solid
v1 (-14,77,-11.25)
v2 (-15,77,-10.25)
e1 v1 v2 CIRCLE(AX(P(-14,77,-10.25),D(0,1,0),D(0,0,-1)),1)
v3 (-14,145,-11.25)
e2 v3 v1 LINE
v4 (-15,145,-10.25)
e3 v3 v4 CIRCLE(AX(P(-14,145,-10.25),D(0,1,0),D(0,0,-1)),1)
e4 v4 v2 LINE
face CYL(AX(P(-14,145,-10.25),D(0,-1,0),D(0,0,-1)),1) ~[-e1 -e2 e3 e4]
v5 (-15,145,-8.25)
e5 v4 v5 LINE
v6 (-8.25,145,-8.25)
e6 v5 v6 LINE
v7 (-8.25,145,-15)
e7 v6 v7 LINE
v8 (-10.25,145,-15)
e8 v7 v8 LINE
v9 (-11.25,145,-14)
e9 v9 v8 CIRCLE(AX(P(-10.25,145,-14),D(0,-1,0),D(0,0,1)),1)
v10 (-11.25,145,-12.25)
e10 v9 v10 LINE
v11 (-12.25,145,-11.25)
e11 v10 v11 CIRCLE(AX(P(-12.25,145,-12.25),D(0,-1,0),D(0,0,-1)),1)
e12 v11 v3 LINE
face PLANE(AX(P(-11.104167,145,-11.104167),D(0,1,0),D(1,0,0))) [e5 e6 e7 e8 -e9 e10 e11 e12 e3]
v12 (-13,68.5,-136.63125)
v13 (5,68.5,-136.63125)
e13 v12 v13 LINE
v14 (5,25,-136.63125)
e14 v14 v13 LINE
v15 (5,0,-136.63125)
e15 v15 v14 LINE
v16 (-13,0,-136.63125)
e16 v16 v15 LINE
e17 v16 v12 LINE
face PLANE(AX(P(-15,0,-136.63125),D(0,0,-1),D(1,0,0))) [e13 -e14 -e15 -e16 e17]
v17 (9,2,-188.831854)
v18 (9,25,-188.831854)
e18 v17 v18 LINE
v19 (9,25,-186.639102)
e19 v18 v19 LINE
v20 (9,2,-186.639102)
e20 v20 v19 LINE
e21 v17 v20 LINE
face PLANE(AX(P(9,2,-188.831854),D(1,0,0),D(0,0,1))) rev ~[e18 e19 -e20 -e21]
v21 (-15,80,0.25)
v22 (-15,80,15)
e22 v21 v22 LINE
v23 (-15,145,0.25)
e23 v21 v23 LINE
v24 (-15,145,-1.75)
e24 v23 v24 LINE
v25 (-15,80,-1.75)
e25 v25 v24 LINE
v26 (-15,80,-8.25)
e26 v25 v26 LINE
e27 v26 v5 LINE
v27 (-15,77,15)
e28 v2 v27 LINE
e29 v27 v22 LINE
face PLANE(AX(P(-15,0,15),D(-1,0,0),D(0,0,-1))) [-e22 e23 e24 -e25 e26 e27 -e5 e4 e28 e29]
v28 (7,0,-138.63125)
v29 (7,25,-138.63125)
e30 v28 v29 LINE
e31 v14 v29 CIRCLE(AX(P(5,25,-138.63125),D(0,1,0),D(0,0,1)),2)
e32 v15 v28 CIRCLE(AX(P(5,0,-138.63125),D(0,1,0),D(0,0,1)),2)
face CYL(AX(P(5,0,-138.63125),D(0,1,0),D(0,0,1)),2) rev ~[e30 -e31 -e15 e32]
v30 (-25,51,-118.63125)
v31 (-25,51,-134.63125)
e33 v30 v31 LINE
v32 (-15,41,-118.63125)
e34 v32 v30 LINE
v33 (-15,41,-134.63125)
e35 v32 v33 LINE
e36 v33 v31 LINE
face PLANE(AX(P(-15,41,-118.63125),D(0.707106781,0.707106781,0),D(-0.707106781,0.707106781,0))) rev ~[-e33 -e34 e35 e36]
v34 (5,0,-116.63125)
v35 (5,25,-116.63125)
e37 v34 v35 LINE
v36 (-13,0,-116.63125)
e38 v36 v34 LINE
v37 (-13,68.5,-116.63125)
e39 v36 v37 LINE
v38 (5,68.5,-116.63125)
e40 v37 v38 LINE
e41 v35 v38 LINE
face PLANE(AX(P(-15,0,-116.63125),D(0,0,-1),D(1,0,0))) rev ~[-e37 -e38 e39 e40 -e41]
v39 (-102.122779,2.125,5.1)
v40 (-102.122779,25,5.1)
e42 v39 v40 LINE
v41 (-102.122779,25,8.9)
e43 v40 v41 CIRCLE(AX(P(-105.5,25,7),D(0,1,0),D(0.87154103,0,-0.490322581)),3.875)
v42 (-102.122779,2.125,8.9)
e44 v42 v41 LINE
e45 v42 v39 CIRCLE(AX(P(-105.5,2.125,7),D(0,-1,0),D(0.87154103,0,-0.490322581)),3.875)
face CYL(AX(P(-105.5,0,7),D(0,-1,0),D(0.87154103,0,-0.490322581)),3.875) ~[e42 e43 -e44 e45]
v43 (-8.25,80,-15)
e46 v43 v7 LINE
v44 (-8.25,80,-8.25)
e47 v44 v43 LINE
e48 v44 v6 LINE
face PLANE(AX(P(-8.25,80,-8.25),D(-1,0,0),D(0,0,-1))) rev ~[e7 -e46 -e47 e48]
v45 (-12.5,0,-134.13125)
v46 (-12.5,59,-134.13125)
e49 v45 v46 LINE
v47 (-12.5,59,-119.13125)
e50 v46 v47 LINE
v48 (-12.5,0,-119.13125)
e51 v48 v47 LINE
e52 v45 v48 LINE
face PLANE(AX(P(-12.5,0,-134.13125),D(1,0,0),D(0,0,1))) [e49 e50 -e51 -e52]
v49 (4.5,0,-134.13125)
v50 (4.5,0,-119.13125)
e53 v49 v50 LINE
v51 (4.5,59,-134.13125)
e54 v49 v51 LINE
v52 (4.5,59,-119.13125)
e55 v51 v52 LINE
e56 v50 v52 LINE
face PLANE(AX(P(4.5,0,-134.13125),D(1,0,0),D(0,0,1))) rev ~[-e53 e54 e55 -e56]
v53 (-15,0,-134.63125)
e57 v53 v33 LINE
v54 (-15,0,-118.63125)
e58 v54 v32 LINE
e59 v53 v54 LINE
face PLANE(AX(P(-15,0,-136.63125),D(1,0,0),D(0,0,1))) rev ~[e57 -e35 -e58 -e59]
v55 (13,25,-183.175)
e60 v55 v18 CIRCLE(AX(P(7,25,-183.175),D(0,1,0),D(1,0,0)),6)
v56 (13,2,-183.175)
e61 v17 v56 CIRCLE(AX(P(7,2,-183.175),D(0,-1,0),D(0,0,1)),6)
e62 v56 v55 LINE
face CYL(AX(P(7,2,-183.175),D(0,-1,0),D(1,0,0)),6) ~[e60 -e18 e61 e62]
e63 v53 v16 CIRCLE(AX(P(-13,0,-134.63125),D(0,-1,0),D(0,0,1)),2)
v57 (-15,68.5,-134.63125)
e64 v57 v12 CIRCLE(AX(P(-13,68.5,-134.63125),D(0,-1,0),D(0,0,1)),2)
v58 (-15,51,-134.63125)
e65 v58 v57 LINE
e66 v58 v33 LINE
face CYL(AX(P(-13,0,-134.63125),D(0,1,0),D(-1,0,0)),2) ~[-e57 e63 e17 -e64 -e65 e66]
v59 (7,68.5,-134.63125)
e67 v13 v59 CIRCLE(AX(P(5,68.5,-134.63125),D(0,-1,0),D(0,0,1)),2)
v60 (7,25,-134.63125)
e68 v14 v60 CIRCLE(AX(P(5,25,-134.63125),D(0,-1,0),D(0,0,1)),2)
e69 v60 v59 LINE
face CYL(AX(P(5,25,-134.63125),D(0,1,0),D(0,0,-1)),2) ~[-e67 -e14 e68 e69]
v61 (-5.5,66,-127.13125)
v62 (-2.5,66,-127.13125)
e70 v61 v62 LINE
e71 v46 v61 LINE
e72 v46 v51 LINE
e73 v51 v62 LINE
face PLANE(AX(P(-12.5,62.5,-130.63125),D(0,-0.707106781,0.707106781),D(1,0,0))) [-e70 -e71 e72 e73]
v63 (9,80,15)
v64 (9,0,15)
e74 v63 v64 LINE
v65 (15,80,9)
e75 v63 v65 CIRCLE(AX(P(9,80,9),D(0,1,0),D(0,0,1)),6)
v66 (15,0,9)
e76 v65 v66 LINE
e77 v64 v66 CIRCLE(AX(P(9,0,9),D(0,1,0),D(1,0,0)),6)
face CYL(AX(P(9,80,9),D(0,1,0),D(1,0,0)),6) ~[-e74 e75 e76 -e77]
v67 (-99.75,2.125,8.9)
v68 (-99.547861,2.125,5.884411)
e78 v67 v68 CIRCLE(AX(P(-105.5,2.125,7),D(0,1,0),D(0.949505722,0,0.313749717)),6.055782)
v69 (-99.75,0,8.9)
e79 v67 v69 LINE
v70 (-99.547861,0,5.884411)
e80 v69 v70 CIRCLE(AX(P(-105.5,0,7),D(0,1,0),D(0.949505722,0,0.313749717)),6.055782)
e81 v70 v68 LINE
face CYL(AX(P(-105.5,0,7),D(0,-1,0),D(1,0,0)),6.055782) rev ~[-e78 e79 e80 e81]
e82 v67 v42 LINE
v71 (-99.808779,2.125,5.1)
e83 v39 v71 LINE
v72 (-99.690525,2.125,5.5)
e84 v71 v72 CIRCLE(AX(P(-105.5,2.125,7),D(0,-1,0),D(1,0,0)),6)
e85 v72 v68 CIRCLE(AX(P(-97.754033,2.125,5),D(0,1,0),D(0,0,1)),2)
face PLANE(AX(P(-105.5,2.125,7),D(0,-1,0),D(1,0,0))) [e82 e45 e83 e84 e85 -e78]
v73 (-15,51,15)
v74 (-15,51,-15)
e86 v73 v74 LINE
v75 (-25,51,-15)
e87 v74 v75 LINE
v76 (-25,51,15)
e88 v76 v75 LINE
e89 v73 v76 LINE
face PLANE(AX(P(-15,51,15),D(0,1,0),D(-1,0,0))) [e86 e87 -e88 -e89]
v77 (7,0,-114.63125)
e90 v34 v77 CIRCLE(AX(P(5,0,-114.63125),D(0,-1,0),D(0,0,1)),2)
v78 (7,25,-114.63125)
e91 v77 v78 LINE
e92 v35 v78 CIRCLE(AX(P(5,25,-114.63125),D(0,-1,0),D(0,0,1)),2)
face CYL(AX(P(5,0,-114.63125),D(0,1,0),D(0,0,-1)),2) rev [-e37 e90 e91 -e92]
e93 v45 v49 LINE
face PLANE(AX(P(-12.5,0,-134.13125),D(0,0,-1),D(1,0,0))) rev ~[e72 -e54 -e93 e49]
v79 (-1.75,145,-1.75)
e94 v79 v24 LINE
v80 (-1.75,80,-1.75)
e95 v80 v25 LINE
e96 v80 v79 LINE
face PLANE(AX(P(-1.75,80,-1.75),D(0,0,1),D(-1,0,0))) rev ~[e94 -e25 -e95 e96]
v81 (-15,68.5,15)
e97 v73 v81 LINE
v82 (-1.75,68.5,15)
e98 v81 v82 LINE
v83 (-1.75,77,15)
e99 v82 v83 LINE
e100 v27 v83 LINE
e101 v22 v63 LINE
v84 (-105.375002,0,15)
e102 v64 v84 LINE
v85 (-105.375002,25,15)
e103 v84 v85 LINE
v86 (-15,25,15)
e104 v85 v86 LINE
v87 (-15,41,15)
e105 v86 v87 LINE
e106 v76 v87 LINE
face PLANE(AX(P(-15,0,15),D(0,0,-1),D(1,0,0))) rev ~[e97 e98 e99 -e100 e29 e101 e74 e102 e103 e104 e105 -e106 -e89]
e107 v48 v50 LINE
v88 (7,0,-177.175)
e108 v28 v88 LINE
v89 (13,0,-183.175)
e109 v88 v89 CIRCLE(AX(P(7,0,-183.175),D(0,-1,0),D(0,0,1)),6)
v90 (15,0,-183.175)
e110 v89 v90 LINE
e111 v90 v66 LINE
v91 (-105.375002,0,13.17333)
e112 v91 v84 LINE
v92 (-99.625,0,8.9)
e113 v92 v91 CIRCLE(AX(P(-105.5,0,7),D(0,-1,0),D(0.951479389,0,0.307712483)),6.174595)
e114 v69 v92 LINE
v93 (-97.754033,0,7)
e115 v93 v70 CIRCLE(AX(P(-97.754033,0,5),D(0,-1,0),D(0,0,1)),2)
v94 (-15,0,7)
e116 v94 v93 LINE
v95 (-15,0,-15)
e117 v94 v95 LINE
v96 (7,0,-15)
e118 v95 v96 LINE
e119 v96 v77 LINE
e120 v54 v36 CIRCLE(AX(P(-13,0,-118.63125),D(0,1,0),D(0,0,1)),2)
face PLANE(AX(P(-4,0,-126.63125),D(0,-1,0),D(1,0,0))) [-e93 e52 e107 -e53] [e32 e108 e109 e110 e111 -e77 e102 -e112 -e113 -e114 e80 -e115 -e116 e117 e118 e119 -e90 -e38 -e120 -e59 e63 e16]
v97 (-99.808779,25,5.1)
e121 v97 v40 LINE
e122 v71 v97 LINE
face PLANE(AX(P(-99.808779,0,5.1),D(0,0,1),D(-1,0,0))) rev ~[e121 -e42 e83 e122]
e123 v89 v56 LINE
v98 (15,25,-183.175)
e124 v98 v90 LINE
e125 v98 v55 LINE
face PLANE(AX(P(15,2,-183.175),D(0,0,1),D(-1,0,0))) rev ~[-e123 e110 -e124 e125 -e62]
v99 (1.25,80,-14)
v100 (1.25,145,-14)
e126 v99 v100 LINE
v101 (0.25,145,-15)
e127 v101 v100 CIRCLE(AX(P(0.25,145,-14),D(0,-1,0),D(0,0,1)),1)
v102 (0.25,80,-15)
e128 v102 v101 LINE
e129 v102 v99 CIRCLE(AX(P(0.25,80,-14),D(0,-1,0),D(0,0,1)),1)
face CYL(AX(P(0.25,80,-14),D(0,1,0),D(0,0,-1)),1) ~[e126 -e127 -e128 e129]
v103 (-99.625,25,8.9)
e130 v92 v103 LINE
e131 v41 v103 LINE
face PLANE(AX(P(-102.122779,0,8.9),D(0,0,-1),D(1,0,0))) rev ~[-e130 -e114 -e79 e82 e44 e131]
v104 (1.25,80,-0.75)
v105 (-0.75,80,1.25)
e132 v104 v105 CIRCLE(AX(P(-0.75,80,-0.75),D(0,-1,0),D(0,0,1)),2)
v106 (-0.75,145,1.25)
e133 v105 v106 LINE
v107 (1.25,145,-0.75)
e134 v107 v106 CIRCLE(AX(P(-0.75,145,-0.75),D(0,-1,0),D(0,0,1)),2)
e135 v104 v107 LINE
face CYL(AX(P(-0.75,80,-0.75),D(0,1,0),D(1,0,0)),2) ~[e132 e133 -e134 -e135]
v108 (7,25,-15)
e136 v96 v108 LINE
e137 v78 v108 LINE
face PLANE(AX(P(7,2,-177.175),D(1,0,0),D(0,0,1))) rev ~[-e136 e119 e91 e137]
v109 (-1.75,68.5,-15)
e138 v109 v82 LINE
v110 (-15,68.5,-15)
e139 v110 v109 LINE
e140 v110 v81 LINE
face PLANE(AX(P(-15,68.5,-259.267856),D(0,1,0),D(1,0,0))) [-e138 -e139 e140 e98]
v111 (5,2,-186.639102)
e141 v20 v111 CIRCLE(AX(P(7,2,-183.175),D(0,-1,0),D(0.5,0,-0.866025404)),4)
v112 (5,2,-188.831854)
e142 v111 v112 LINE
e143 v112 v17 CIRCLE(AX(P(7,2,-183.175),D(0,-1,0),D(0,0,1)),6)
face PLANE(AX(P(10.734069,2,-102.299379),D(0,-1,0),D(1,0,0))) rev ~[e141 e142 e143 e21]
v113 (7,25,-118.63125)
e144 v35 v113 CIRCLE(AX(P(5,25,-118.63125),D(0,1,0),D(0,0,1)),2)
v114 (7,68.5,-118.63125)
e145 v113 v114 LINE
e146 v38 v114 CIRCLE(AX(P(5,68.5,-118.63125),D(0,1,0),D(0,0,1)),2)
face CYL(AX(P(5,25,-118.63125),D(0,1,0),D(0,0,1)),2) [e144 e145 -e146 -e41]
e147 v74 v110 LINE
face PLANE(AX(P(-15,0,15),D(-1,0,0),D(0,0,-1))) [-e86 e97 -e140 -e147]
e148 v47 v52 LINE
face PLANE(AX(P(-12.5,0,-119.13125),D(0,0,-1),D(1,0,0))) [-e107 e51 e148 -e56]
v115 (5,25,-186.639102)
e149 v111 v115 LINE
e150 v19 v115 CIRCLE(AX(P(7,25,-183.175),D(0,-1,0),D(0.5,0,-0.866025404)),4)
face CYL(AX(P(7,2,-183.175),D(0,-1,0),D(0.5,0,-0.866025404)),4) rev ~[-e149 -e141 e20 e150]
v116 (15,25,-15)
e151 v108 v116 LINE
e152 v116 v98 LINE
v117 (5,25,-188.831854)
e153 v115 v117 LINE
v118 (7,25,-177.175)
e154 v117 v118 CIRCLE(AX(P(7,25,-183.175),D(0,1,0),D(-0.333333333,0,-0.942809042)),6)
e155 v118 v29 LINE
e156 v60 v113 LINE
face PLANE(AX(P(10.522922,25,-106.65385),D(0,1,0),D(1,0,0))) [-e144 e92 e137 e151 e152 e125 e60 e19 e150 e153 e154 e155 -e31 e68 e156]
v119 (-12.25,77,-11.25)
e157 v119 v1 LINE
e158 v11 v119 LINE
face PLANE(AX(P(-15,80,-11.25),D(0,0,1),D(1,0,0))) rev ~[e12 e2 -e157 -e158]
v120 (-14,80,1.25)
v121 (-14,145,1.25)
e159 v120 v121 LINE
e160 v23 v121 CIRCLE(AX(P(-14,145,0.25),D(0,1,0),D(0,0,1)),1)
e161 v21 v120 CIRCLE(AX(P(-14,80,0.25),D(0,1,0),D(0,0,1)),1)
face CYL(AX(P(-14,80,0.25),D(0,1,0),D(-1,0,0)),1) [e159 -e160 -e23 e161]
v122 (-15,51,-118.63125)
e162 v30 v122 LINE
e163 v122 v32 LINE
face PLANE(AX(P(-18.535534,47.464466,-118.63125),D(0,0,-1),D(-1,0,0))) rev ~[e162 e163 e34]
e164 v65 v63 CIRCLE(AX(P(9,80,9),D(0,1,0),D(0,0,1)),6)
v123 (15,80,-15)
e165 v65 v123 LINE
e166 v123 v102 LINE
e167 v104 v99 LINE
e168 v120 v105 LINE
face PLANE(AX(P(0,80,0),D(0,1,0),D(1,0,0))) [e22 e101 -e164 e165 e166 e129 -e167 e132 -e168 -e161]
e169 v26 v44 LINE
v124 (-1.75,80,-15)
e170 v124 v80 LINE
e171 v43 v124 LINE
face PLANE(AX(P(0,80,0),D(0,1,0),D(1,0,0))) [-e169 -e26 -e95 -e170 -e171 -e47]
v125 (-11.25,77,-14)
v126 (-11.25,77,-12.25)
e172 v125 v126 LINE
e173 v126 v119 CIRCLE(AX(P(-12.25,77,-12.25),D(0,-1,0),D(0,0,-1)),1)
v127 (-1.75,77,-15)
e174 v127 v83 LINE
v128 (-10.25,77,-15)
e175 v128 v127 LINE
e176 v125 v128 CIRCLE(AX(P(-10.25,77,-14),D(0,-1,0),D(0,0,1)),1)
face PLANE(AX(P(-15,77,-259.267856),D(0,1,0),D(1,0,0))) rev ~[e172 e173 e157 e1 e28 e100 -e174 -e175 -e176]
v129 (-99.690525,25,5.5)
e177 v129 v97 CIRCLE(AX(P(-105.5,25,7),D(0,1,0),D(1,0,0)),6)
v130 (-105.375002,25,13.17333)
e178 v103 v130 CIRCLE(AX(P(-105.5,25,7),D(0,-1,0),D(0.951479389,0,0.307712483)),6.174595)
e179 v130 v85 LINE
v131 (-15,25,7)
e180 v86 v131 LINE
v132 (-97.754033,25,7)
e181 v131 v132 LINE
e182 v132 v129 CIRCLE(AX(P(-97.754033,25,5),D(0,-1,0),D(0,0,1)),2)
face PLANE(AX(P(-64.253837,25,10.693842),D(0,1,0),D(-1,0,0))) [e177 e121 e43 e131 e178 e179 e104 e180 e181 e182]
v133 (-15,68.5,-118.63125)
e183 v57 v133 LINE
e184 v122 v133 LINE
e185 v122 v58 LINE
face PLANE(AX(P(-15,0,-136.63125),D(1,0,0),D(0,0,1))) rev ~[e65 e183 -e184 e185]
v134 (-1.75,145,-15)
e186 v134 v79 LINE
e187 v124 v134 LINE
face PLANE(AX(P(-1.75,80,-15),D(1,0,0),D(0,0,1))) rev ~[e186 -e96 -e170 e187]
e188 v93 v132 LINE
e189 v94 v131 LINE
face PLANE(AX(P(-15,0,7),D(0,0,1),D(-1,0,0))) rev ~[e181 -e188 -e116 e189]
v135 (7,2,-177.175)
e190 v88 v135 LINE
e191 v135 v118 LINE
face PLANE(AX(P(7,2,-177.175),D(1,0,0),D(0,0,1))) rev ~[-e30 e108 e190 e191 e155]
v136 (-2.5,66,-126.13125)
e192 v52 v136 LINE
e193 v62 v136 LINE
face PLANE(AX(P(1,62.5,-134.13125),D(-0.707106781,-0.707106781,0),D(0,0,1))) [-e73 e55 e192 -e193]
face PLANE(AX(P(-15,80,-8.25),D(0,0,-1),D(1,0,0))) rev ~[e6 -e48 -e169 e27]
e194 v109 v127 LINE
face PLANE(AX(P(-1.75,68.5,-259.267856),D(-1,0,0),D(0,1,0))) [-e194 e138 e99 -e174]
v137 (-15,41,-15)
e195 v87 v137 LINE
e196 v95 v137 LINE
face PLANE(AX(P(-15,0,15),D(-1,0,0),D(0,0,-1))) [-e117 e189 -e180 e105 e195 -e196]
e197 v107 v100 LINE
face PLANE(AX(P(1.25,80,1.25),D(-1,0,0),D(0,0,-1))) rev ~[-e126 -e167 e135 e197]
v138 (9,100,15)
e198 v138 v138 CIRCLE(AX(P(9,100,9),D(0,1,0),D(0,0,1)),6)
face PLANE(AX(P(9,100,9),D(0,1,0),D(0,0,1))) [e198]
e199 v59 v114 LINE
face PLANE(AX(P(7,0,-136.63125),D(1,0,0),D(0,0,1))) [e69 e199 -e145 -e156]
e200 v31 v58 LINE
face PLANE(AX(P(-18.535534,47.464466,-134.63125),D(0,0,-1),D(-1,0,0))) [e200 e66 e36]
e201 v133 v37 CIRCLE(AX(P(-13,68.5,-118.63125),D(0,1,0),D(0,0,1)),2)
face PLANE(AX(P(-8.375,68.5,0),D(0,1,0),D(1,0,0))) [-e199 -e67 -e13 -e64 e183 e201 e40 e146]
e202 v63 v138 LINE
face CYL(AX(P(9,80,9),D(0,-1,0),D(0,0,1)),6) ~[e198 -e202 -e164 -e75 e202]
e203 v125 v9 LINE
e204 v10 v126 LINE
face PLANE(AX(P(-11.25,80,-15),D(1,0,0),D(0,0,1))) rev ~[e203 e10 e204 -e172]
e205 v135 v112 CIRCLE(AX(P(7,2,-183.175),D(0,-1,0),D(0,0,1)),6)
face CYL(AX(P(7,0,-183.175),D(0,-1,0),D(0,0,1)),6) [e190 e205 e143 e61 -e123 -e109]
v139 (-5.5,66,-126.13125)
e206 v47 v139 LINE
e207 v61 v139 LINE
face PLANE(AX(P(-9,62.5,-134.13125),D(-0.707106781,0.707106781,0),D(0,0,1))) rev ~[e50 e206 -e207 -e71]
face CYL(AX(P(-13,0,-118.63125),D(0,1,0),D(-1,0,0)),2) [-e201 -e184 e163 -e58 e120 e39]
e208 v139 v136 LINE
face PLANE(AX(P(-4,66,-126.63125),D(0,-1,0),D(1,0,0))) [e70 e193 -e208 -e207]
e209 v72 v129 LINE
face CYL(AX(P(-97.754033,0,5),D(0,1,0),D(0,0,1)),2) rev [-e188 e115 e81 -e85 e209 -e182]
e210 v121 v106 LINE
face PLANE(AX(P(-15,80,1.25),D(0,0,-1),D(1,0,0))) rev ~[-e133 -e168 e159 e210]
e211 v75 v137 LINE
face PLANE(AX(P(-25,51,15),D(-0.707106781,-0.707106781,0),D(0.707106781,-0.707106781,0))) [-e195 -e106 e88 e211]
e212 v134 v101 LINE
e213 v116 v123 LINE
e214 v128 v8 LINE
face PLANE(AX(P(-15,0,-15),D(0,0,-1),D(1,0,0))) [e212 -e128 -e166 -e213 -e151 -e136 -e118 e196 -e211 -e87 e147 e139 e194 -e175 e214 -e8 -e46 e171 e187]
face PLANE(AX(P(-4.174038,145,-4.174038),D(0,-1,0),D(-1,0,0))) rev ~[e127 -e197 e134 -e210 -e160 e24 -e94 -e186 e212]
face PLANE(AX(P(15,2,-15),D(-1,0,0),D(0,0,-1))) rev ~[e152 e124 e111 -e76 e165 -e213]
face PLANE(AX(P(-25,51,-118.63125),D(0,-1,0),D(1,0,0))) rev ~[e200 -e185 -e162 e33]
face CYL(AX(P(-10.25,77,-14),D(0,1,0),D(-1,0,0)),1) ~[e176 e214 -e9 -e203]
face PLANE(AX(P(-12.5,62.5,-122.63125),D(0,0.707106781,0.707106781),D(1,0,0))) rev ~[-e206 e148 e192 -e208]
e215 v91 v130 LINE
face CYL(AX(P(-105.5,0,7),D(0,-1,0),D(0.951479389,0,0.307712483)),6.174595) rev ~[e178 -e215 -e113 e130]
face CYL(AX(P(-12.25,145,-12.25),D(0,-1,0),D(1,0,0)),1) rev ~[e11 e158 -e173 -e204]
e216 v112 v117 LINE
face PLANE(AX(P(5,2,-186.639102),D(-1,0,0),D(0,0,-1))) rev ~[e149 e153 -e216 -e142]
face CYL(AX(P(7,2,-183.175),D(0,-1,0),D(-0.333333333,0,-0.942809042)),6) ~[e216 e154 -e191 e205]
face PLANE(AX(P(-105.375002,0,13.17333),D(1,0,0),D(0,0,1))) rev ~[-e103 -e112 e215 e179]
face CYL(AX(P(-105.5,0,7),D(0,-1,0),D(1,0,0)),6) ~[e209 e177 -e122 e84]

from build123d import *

# Parameters (mm, degrees)
SKETCH1_W                 = 30
SKETCH1_H                 = 30
BOSS_EXTRUDE1_DEPTH       = 80
SKETCH2_R                 = 6
BOSS_EXTRUDE2_DEPTH       = 20
CUT_EXTRUDE1_DEPTH        = 83.764726786
BOSS_EXTRUDE3_DEPTH       = 65
BOSS_EXTRUDE5_DEPTH       = 2
BOSS_EXTRUDE6_DEPTH       = 23
BOSS_EXTRUDE7_DEPTH       = 25
FILLET1_R                 = 2
SKETCH11_R                = 6.055782361
CUT_EXTRUDE2_DEPTH        = 2.125
CUT_EXTRUDE4_DEPTH        = 274.267856233
CUT_EXTRUDE4_DEPTH_BACK   = 274.267856233
SKETCH13_W                = 13.25
SKETCH13_H                = 8.5
FILLET2_R                 = 2
CUT_EXTRUDE6_REACH        = 234.702
SKETCH16_W                = 3.75
SKETCH16_H                = 3.75
FILLET4_R                 = 1
BOSS_EXTRUDE8_REACH       = 264.25
SKETCH17_W                = 22
SKETCH17_H                = 20
SKETCH18_W                = 17
SKETCH18_H                = 15
CUT_EXTRUDE7_DEPTH        = 66
FILLET5_R                 = 2
FILLET6_R                 = 2
CHAMFER1_SIZE             = 7
BOSS_EXTRUDE9_DEPTH       = 30
BOSS_EXTRUDE10_DEPTH      = 8
BOSS_EXTRUDE10_DEPTH_BACK = 8


with BuildPart() as part:
    # Sketch1 → Boss-Extrude1 (new body)
    with BuildSketch(Plane(origin=(0, 0, 0), x_dir=(1, 0, 0), z_dir=(0, 1, 0))):
        Rectangle(SKETCH1_W, SKETCH1_H)
    extrude(amount=BOSS_EXTRUDE1_DEPTH)

    # Sketch2 → Boss-Extrude2 (add)
    with BuildSketch(Plane(origin=(0, 80, 0), x_dir=(1, 0, 0), z_dir=(0, 1, 0))):
        with Locations(Location((9, -9, 0), (0, 0, 270))):
            Circle(SKETCH2_R)
    extrude(amount=BOSS_EXTRUDE2_DEPTH)

    # Sketch3 → Cut-Extrude1 (cut, through all)
    with BuildSketch(Plane(origin=(0, 80, 0), x_dir=(1, 0, 0), z_dir=(0, 1, 0))):
        with BuildLine():
            Line((9, -15), (15, -15))
            Line((15, -15), (15, -9))
            ThreePointArc((15, -9), (13.242640687, -13.242640687), (9, -15))
        make_face()
    extrude(amount=-CUT_EXTRUDE1_DEPTH, mode=Mode.SUBTRACT)

    # Sketch4 → Boss-Extrude3 (add)
    with BuildSketch(Plane(origin=(0, 80, 0), x_dir=(1, 0, 0), z_dir=(0, 1, 0))):
        Polygon((-11.25, 1.75), (-1.75, 1.75), (-1.75, 11.25), (-1.75, 15), (1.25, 15), (1.25, 11.25), (1.25, -1.25), (-11.25, -1.25), (-15, -1.25), (-15, 1.75), align=None)
        Polygon((-11.25, 8.25), (-8.25, 8.25), (-8.25, 11.25), (-8.25, 15), (-11.25, 15), (-11.25, 11.25), (-15, 11.25), (-15, 8.25), align=None)
    extrude(amount=BOSS_EXTRUDE3_DEPTH)

    # Sketch6 → Boss-Extrude5 (add)
    with BuildSketch(Plane.XZ):
        with BuildLine():
            Line((15, -15), (7, -15))
            Line((7, -15), (7, -177.175))
            ThreePointArc((7, -177.175), (2.757359313, -187.417640687), (13, -183.175))
            Line((13, -183.175), (15, -183.175))
            Line((15, -183.175), (15, -15))
        make_face()
    extrude(amount=-BOSS_EXTRUDE5_DEPTH)

    # Sketch7 → Boss-Extrude6 (add)
    with BuildSketch(Plane(origin=(0, 2, 0), x_dir=(1, 0, 0), z_dir=(0, 1, 0))):
        with BuildLine():
            Line((9, 188.831854249), (9, 186.639101615))
            ThreePointArc((9, 186.639101615), (7, 179.175), (5, 186.639101615))
            Line((5, 186.639101615), (5, 188.831854249))
            ThreePointArc((5, 188.831854249), (1.086408642, 182.160388128), (7, 177.175))
            Line((7, 177.175), (7, 15))
            Line((7, 15), (15, 15))
            Line((15, 15), (15, 183.175))
            Line((15, 183.175), (13, 183.175))
            ThreePointArc((13, 183.175), (11.898979486, 186.639101615), (9, 188.831854249))
        make_face()
    extrude(amount=BOSS_EXTRUDE6_DEPTH)

    # Sketch9 → Boss-Extrude7 (add)
    with BuildSketch(Plane.XZ):
        with BuildLine():
            Line((-15, 15), (-15, 7))
            Line((-15, 7), (-99.5, 7))
            ThreePointArc((-99.5, 7), (-99.577697751, 6.037536458), (-99.80877869, 5.1))
            Line((-99.80877869, 5.1), (-102.122778509, 5.1))
            ThreePointArc((-102.122778509, 5.1), (-109.375, 7), (-102.122778509, 8.9))
            Line((-102.122778509, 8.9), (-99.625, 8.9))
            ThreePointArc((-99.625, 8.9), (-101.816885554, 11.955834237), (-105.375001601, 13.173329766))
            Line((-105.375001601, 13.173329766), (-105.375001601, 15))
            Line((-105.375001601, 15), (-15, 15))
        make_face()
    extrude(amount=-BOSS_EXTRUDE7_DEPTH)

    # Fillet1
    fillet1_edges = [part.edges().sort_by_distance(p)[0] for p in [
        (-99.5, 12.5, 7),
    ]]
    fillet(fillet1_edges, radius=FILLET1_R)

    # Sketch11 → Cut-Extrude2 (cut)
    with BuildSketch(Plane.XZ):
        with Locations((-105.5, 7)):
            Circle(SKETCH11_R)
    extrude(amount=-CUT_EXTRUDE2_DEPTH, mode=Mode.SUBTRACT)

    # Sketch13 → Cut-Extrude4 (cut, two sides: drawn at the far end of the back side and taken through both)
    with BuildSketch(Plane.XY.offset(15).offset(-CUT_EXTRUDE4_DEPTH_BACK)):
        with Locations((-8.375, 72.75)):
            Rectangle(SKETCH13_W, SKETCH13_H)
    extrude(amount=CUT_EXTRUDE4_DEPTH + CUT_EXTRUDE4_DEPTH_BACK, mode=Mode.SUBTRACT)

    # Fillet2
    fillet2_edges = [part.edges().sort_by_distance(p)[0] for p in [
        (1.25, 112.5, 1.25),
    ]]
    fillet(fillet2_edges, radius=FILLET2_R)

    # Sketch16 → Cut-Extrude6 (cut, up to next)
    with BuildSketch(Plane(origin=(0, 80, 0), x_dir=(1, 0, 0), z_dir=(0, 1, 0)), mode=Mode.PRIVATE) as cut_extrude6_sk1:
        with Locations((-13.125, 13.125)):
            Rectangle(SKETCH16_W, SKETCH16_H)
    cut_extrude6_tool1 = extrude(cut_extrude6_sk1.sketch, amount=-CUT_EXTRUDE6_REACH, mode=Mode.PRIVATE) & part.part
    add(cut_extrude6_tool1.solids().sort_by_distance((-13.125, 80, -13.125))[0], mode=Mode.SUBTRACT)

    # Fillet4
    fillet4_edges = [part.edges().sort_by_distance(p)[0] for p in [
        (-11.25, 111, -11.25),
        (-15, 111, -11.25),
        (-11.25, 111, -15),
        (-15, 112.5, 1.25),
        (1.25, 112.5, -15),
    ]]
    fillet(fillet4_edges, radius=FILLET4_R)

    # Boss-Extrude8: up to this face of the body (flat: up to its plane)
    boss_extrude8_end = Plane(part.part.faces().sort_by_distance((-8.375, 68.5, 0))[0])
    # Sketch17 → Boss-Extrude8 (add, up to the picked face)
    with BuildSketch(Plane.XZ, mode=Mode.PRIVATE) as boss_extrude8_sk1:
        with Locations((-4, -126.63125)):
            Rectangle(SKETCH17_W, SKETCH17_H)
    boss_extrude8_tool1 = split(extrude(boss_extrude8_sk1.sketch, amount=-BOSS_EXTRUDE8_REACH, mode=Mode.PRIVATE), bisect_by=boss_extrude8_end, keep=Keep.BOTH, mode=Mode.PRIVATE)
    add(boss_extrude8_tool1.solids().sort_by(Axis((-4, 0, -126.63125), (0, 1, 0)))[0])

    # Sketch18 → Cut-Extrude7 (cut)
    with BuildSketch(Plane.XZ):
        with Locations((-4, -126.63125)):
            Rectangle(SKETCH18_W, SKETCH18_H)
    extrude(amount=-CUT_EXTRUDE7_DEPTH, mode=Mode.SUBTRACT)

    # Fillet5
    fillet5_edges = [part.edges().sort_by_distance(p)[0] for p in [
        (7, 12.5, -116.63125),
        (7, 12.5, -136.63125),
        (-15, 34.25, -136.63125),
        (-15, 34.25, -116.63125),
    ]]
    fillet(fillet5_edges, radius=FILLET5_R)

    # Fillet6
    fillet6_edges = [part.edges().sort_by_distance(p)[0] for p in [
        (7, 46.75, -116.63125),
        (7, 46.75, -136.63125),
    ]]
    fillet(fillet6_edges, radius=FILLET6_R)

    # Chamfer1
    chamfer1_edges = [part.edges().sort_by_distance(p)[0] for p in [
        (-12.5, 66, -126.63125),
        (-4, 66, -119.13125),
        (4.5, 66, -126.63125),
        (-4, 66, -134.13125),
    ]]
    chamfer(chamfer1_edges, length=CHAMFER1_SIZE)

    # Sketch19 → Boss-Extrude9 (add)
    with BuildSketch(Plane.XY.offset(15)):
        Polygon((-15, 51), (-25, 51), (-15, 41), align=None)
    extrude(amount=-BOSS_EXTRUDE9_DEPTH)

    # Sketch20 → Boss-Extrude10 (add, two sides: drawn at the far end of the back side and taken through both)
    with BuildSketch(Plane(origin=(0, 0, -126.63125), x_dir=(-1, 0, 0), z_dir=(0, 0, -1)).offset(-BOSS_EXTRUDE10_DEPTH_BACK)):
        Polygon((25, 51), (15, 51), (15, 41), align=None)
    extrude(amount=BOSS_EXTRUDE10_DEPTH + BOSS_EXTRUDE10_DEPTH_BACK)


solid = part.part
